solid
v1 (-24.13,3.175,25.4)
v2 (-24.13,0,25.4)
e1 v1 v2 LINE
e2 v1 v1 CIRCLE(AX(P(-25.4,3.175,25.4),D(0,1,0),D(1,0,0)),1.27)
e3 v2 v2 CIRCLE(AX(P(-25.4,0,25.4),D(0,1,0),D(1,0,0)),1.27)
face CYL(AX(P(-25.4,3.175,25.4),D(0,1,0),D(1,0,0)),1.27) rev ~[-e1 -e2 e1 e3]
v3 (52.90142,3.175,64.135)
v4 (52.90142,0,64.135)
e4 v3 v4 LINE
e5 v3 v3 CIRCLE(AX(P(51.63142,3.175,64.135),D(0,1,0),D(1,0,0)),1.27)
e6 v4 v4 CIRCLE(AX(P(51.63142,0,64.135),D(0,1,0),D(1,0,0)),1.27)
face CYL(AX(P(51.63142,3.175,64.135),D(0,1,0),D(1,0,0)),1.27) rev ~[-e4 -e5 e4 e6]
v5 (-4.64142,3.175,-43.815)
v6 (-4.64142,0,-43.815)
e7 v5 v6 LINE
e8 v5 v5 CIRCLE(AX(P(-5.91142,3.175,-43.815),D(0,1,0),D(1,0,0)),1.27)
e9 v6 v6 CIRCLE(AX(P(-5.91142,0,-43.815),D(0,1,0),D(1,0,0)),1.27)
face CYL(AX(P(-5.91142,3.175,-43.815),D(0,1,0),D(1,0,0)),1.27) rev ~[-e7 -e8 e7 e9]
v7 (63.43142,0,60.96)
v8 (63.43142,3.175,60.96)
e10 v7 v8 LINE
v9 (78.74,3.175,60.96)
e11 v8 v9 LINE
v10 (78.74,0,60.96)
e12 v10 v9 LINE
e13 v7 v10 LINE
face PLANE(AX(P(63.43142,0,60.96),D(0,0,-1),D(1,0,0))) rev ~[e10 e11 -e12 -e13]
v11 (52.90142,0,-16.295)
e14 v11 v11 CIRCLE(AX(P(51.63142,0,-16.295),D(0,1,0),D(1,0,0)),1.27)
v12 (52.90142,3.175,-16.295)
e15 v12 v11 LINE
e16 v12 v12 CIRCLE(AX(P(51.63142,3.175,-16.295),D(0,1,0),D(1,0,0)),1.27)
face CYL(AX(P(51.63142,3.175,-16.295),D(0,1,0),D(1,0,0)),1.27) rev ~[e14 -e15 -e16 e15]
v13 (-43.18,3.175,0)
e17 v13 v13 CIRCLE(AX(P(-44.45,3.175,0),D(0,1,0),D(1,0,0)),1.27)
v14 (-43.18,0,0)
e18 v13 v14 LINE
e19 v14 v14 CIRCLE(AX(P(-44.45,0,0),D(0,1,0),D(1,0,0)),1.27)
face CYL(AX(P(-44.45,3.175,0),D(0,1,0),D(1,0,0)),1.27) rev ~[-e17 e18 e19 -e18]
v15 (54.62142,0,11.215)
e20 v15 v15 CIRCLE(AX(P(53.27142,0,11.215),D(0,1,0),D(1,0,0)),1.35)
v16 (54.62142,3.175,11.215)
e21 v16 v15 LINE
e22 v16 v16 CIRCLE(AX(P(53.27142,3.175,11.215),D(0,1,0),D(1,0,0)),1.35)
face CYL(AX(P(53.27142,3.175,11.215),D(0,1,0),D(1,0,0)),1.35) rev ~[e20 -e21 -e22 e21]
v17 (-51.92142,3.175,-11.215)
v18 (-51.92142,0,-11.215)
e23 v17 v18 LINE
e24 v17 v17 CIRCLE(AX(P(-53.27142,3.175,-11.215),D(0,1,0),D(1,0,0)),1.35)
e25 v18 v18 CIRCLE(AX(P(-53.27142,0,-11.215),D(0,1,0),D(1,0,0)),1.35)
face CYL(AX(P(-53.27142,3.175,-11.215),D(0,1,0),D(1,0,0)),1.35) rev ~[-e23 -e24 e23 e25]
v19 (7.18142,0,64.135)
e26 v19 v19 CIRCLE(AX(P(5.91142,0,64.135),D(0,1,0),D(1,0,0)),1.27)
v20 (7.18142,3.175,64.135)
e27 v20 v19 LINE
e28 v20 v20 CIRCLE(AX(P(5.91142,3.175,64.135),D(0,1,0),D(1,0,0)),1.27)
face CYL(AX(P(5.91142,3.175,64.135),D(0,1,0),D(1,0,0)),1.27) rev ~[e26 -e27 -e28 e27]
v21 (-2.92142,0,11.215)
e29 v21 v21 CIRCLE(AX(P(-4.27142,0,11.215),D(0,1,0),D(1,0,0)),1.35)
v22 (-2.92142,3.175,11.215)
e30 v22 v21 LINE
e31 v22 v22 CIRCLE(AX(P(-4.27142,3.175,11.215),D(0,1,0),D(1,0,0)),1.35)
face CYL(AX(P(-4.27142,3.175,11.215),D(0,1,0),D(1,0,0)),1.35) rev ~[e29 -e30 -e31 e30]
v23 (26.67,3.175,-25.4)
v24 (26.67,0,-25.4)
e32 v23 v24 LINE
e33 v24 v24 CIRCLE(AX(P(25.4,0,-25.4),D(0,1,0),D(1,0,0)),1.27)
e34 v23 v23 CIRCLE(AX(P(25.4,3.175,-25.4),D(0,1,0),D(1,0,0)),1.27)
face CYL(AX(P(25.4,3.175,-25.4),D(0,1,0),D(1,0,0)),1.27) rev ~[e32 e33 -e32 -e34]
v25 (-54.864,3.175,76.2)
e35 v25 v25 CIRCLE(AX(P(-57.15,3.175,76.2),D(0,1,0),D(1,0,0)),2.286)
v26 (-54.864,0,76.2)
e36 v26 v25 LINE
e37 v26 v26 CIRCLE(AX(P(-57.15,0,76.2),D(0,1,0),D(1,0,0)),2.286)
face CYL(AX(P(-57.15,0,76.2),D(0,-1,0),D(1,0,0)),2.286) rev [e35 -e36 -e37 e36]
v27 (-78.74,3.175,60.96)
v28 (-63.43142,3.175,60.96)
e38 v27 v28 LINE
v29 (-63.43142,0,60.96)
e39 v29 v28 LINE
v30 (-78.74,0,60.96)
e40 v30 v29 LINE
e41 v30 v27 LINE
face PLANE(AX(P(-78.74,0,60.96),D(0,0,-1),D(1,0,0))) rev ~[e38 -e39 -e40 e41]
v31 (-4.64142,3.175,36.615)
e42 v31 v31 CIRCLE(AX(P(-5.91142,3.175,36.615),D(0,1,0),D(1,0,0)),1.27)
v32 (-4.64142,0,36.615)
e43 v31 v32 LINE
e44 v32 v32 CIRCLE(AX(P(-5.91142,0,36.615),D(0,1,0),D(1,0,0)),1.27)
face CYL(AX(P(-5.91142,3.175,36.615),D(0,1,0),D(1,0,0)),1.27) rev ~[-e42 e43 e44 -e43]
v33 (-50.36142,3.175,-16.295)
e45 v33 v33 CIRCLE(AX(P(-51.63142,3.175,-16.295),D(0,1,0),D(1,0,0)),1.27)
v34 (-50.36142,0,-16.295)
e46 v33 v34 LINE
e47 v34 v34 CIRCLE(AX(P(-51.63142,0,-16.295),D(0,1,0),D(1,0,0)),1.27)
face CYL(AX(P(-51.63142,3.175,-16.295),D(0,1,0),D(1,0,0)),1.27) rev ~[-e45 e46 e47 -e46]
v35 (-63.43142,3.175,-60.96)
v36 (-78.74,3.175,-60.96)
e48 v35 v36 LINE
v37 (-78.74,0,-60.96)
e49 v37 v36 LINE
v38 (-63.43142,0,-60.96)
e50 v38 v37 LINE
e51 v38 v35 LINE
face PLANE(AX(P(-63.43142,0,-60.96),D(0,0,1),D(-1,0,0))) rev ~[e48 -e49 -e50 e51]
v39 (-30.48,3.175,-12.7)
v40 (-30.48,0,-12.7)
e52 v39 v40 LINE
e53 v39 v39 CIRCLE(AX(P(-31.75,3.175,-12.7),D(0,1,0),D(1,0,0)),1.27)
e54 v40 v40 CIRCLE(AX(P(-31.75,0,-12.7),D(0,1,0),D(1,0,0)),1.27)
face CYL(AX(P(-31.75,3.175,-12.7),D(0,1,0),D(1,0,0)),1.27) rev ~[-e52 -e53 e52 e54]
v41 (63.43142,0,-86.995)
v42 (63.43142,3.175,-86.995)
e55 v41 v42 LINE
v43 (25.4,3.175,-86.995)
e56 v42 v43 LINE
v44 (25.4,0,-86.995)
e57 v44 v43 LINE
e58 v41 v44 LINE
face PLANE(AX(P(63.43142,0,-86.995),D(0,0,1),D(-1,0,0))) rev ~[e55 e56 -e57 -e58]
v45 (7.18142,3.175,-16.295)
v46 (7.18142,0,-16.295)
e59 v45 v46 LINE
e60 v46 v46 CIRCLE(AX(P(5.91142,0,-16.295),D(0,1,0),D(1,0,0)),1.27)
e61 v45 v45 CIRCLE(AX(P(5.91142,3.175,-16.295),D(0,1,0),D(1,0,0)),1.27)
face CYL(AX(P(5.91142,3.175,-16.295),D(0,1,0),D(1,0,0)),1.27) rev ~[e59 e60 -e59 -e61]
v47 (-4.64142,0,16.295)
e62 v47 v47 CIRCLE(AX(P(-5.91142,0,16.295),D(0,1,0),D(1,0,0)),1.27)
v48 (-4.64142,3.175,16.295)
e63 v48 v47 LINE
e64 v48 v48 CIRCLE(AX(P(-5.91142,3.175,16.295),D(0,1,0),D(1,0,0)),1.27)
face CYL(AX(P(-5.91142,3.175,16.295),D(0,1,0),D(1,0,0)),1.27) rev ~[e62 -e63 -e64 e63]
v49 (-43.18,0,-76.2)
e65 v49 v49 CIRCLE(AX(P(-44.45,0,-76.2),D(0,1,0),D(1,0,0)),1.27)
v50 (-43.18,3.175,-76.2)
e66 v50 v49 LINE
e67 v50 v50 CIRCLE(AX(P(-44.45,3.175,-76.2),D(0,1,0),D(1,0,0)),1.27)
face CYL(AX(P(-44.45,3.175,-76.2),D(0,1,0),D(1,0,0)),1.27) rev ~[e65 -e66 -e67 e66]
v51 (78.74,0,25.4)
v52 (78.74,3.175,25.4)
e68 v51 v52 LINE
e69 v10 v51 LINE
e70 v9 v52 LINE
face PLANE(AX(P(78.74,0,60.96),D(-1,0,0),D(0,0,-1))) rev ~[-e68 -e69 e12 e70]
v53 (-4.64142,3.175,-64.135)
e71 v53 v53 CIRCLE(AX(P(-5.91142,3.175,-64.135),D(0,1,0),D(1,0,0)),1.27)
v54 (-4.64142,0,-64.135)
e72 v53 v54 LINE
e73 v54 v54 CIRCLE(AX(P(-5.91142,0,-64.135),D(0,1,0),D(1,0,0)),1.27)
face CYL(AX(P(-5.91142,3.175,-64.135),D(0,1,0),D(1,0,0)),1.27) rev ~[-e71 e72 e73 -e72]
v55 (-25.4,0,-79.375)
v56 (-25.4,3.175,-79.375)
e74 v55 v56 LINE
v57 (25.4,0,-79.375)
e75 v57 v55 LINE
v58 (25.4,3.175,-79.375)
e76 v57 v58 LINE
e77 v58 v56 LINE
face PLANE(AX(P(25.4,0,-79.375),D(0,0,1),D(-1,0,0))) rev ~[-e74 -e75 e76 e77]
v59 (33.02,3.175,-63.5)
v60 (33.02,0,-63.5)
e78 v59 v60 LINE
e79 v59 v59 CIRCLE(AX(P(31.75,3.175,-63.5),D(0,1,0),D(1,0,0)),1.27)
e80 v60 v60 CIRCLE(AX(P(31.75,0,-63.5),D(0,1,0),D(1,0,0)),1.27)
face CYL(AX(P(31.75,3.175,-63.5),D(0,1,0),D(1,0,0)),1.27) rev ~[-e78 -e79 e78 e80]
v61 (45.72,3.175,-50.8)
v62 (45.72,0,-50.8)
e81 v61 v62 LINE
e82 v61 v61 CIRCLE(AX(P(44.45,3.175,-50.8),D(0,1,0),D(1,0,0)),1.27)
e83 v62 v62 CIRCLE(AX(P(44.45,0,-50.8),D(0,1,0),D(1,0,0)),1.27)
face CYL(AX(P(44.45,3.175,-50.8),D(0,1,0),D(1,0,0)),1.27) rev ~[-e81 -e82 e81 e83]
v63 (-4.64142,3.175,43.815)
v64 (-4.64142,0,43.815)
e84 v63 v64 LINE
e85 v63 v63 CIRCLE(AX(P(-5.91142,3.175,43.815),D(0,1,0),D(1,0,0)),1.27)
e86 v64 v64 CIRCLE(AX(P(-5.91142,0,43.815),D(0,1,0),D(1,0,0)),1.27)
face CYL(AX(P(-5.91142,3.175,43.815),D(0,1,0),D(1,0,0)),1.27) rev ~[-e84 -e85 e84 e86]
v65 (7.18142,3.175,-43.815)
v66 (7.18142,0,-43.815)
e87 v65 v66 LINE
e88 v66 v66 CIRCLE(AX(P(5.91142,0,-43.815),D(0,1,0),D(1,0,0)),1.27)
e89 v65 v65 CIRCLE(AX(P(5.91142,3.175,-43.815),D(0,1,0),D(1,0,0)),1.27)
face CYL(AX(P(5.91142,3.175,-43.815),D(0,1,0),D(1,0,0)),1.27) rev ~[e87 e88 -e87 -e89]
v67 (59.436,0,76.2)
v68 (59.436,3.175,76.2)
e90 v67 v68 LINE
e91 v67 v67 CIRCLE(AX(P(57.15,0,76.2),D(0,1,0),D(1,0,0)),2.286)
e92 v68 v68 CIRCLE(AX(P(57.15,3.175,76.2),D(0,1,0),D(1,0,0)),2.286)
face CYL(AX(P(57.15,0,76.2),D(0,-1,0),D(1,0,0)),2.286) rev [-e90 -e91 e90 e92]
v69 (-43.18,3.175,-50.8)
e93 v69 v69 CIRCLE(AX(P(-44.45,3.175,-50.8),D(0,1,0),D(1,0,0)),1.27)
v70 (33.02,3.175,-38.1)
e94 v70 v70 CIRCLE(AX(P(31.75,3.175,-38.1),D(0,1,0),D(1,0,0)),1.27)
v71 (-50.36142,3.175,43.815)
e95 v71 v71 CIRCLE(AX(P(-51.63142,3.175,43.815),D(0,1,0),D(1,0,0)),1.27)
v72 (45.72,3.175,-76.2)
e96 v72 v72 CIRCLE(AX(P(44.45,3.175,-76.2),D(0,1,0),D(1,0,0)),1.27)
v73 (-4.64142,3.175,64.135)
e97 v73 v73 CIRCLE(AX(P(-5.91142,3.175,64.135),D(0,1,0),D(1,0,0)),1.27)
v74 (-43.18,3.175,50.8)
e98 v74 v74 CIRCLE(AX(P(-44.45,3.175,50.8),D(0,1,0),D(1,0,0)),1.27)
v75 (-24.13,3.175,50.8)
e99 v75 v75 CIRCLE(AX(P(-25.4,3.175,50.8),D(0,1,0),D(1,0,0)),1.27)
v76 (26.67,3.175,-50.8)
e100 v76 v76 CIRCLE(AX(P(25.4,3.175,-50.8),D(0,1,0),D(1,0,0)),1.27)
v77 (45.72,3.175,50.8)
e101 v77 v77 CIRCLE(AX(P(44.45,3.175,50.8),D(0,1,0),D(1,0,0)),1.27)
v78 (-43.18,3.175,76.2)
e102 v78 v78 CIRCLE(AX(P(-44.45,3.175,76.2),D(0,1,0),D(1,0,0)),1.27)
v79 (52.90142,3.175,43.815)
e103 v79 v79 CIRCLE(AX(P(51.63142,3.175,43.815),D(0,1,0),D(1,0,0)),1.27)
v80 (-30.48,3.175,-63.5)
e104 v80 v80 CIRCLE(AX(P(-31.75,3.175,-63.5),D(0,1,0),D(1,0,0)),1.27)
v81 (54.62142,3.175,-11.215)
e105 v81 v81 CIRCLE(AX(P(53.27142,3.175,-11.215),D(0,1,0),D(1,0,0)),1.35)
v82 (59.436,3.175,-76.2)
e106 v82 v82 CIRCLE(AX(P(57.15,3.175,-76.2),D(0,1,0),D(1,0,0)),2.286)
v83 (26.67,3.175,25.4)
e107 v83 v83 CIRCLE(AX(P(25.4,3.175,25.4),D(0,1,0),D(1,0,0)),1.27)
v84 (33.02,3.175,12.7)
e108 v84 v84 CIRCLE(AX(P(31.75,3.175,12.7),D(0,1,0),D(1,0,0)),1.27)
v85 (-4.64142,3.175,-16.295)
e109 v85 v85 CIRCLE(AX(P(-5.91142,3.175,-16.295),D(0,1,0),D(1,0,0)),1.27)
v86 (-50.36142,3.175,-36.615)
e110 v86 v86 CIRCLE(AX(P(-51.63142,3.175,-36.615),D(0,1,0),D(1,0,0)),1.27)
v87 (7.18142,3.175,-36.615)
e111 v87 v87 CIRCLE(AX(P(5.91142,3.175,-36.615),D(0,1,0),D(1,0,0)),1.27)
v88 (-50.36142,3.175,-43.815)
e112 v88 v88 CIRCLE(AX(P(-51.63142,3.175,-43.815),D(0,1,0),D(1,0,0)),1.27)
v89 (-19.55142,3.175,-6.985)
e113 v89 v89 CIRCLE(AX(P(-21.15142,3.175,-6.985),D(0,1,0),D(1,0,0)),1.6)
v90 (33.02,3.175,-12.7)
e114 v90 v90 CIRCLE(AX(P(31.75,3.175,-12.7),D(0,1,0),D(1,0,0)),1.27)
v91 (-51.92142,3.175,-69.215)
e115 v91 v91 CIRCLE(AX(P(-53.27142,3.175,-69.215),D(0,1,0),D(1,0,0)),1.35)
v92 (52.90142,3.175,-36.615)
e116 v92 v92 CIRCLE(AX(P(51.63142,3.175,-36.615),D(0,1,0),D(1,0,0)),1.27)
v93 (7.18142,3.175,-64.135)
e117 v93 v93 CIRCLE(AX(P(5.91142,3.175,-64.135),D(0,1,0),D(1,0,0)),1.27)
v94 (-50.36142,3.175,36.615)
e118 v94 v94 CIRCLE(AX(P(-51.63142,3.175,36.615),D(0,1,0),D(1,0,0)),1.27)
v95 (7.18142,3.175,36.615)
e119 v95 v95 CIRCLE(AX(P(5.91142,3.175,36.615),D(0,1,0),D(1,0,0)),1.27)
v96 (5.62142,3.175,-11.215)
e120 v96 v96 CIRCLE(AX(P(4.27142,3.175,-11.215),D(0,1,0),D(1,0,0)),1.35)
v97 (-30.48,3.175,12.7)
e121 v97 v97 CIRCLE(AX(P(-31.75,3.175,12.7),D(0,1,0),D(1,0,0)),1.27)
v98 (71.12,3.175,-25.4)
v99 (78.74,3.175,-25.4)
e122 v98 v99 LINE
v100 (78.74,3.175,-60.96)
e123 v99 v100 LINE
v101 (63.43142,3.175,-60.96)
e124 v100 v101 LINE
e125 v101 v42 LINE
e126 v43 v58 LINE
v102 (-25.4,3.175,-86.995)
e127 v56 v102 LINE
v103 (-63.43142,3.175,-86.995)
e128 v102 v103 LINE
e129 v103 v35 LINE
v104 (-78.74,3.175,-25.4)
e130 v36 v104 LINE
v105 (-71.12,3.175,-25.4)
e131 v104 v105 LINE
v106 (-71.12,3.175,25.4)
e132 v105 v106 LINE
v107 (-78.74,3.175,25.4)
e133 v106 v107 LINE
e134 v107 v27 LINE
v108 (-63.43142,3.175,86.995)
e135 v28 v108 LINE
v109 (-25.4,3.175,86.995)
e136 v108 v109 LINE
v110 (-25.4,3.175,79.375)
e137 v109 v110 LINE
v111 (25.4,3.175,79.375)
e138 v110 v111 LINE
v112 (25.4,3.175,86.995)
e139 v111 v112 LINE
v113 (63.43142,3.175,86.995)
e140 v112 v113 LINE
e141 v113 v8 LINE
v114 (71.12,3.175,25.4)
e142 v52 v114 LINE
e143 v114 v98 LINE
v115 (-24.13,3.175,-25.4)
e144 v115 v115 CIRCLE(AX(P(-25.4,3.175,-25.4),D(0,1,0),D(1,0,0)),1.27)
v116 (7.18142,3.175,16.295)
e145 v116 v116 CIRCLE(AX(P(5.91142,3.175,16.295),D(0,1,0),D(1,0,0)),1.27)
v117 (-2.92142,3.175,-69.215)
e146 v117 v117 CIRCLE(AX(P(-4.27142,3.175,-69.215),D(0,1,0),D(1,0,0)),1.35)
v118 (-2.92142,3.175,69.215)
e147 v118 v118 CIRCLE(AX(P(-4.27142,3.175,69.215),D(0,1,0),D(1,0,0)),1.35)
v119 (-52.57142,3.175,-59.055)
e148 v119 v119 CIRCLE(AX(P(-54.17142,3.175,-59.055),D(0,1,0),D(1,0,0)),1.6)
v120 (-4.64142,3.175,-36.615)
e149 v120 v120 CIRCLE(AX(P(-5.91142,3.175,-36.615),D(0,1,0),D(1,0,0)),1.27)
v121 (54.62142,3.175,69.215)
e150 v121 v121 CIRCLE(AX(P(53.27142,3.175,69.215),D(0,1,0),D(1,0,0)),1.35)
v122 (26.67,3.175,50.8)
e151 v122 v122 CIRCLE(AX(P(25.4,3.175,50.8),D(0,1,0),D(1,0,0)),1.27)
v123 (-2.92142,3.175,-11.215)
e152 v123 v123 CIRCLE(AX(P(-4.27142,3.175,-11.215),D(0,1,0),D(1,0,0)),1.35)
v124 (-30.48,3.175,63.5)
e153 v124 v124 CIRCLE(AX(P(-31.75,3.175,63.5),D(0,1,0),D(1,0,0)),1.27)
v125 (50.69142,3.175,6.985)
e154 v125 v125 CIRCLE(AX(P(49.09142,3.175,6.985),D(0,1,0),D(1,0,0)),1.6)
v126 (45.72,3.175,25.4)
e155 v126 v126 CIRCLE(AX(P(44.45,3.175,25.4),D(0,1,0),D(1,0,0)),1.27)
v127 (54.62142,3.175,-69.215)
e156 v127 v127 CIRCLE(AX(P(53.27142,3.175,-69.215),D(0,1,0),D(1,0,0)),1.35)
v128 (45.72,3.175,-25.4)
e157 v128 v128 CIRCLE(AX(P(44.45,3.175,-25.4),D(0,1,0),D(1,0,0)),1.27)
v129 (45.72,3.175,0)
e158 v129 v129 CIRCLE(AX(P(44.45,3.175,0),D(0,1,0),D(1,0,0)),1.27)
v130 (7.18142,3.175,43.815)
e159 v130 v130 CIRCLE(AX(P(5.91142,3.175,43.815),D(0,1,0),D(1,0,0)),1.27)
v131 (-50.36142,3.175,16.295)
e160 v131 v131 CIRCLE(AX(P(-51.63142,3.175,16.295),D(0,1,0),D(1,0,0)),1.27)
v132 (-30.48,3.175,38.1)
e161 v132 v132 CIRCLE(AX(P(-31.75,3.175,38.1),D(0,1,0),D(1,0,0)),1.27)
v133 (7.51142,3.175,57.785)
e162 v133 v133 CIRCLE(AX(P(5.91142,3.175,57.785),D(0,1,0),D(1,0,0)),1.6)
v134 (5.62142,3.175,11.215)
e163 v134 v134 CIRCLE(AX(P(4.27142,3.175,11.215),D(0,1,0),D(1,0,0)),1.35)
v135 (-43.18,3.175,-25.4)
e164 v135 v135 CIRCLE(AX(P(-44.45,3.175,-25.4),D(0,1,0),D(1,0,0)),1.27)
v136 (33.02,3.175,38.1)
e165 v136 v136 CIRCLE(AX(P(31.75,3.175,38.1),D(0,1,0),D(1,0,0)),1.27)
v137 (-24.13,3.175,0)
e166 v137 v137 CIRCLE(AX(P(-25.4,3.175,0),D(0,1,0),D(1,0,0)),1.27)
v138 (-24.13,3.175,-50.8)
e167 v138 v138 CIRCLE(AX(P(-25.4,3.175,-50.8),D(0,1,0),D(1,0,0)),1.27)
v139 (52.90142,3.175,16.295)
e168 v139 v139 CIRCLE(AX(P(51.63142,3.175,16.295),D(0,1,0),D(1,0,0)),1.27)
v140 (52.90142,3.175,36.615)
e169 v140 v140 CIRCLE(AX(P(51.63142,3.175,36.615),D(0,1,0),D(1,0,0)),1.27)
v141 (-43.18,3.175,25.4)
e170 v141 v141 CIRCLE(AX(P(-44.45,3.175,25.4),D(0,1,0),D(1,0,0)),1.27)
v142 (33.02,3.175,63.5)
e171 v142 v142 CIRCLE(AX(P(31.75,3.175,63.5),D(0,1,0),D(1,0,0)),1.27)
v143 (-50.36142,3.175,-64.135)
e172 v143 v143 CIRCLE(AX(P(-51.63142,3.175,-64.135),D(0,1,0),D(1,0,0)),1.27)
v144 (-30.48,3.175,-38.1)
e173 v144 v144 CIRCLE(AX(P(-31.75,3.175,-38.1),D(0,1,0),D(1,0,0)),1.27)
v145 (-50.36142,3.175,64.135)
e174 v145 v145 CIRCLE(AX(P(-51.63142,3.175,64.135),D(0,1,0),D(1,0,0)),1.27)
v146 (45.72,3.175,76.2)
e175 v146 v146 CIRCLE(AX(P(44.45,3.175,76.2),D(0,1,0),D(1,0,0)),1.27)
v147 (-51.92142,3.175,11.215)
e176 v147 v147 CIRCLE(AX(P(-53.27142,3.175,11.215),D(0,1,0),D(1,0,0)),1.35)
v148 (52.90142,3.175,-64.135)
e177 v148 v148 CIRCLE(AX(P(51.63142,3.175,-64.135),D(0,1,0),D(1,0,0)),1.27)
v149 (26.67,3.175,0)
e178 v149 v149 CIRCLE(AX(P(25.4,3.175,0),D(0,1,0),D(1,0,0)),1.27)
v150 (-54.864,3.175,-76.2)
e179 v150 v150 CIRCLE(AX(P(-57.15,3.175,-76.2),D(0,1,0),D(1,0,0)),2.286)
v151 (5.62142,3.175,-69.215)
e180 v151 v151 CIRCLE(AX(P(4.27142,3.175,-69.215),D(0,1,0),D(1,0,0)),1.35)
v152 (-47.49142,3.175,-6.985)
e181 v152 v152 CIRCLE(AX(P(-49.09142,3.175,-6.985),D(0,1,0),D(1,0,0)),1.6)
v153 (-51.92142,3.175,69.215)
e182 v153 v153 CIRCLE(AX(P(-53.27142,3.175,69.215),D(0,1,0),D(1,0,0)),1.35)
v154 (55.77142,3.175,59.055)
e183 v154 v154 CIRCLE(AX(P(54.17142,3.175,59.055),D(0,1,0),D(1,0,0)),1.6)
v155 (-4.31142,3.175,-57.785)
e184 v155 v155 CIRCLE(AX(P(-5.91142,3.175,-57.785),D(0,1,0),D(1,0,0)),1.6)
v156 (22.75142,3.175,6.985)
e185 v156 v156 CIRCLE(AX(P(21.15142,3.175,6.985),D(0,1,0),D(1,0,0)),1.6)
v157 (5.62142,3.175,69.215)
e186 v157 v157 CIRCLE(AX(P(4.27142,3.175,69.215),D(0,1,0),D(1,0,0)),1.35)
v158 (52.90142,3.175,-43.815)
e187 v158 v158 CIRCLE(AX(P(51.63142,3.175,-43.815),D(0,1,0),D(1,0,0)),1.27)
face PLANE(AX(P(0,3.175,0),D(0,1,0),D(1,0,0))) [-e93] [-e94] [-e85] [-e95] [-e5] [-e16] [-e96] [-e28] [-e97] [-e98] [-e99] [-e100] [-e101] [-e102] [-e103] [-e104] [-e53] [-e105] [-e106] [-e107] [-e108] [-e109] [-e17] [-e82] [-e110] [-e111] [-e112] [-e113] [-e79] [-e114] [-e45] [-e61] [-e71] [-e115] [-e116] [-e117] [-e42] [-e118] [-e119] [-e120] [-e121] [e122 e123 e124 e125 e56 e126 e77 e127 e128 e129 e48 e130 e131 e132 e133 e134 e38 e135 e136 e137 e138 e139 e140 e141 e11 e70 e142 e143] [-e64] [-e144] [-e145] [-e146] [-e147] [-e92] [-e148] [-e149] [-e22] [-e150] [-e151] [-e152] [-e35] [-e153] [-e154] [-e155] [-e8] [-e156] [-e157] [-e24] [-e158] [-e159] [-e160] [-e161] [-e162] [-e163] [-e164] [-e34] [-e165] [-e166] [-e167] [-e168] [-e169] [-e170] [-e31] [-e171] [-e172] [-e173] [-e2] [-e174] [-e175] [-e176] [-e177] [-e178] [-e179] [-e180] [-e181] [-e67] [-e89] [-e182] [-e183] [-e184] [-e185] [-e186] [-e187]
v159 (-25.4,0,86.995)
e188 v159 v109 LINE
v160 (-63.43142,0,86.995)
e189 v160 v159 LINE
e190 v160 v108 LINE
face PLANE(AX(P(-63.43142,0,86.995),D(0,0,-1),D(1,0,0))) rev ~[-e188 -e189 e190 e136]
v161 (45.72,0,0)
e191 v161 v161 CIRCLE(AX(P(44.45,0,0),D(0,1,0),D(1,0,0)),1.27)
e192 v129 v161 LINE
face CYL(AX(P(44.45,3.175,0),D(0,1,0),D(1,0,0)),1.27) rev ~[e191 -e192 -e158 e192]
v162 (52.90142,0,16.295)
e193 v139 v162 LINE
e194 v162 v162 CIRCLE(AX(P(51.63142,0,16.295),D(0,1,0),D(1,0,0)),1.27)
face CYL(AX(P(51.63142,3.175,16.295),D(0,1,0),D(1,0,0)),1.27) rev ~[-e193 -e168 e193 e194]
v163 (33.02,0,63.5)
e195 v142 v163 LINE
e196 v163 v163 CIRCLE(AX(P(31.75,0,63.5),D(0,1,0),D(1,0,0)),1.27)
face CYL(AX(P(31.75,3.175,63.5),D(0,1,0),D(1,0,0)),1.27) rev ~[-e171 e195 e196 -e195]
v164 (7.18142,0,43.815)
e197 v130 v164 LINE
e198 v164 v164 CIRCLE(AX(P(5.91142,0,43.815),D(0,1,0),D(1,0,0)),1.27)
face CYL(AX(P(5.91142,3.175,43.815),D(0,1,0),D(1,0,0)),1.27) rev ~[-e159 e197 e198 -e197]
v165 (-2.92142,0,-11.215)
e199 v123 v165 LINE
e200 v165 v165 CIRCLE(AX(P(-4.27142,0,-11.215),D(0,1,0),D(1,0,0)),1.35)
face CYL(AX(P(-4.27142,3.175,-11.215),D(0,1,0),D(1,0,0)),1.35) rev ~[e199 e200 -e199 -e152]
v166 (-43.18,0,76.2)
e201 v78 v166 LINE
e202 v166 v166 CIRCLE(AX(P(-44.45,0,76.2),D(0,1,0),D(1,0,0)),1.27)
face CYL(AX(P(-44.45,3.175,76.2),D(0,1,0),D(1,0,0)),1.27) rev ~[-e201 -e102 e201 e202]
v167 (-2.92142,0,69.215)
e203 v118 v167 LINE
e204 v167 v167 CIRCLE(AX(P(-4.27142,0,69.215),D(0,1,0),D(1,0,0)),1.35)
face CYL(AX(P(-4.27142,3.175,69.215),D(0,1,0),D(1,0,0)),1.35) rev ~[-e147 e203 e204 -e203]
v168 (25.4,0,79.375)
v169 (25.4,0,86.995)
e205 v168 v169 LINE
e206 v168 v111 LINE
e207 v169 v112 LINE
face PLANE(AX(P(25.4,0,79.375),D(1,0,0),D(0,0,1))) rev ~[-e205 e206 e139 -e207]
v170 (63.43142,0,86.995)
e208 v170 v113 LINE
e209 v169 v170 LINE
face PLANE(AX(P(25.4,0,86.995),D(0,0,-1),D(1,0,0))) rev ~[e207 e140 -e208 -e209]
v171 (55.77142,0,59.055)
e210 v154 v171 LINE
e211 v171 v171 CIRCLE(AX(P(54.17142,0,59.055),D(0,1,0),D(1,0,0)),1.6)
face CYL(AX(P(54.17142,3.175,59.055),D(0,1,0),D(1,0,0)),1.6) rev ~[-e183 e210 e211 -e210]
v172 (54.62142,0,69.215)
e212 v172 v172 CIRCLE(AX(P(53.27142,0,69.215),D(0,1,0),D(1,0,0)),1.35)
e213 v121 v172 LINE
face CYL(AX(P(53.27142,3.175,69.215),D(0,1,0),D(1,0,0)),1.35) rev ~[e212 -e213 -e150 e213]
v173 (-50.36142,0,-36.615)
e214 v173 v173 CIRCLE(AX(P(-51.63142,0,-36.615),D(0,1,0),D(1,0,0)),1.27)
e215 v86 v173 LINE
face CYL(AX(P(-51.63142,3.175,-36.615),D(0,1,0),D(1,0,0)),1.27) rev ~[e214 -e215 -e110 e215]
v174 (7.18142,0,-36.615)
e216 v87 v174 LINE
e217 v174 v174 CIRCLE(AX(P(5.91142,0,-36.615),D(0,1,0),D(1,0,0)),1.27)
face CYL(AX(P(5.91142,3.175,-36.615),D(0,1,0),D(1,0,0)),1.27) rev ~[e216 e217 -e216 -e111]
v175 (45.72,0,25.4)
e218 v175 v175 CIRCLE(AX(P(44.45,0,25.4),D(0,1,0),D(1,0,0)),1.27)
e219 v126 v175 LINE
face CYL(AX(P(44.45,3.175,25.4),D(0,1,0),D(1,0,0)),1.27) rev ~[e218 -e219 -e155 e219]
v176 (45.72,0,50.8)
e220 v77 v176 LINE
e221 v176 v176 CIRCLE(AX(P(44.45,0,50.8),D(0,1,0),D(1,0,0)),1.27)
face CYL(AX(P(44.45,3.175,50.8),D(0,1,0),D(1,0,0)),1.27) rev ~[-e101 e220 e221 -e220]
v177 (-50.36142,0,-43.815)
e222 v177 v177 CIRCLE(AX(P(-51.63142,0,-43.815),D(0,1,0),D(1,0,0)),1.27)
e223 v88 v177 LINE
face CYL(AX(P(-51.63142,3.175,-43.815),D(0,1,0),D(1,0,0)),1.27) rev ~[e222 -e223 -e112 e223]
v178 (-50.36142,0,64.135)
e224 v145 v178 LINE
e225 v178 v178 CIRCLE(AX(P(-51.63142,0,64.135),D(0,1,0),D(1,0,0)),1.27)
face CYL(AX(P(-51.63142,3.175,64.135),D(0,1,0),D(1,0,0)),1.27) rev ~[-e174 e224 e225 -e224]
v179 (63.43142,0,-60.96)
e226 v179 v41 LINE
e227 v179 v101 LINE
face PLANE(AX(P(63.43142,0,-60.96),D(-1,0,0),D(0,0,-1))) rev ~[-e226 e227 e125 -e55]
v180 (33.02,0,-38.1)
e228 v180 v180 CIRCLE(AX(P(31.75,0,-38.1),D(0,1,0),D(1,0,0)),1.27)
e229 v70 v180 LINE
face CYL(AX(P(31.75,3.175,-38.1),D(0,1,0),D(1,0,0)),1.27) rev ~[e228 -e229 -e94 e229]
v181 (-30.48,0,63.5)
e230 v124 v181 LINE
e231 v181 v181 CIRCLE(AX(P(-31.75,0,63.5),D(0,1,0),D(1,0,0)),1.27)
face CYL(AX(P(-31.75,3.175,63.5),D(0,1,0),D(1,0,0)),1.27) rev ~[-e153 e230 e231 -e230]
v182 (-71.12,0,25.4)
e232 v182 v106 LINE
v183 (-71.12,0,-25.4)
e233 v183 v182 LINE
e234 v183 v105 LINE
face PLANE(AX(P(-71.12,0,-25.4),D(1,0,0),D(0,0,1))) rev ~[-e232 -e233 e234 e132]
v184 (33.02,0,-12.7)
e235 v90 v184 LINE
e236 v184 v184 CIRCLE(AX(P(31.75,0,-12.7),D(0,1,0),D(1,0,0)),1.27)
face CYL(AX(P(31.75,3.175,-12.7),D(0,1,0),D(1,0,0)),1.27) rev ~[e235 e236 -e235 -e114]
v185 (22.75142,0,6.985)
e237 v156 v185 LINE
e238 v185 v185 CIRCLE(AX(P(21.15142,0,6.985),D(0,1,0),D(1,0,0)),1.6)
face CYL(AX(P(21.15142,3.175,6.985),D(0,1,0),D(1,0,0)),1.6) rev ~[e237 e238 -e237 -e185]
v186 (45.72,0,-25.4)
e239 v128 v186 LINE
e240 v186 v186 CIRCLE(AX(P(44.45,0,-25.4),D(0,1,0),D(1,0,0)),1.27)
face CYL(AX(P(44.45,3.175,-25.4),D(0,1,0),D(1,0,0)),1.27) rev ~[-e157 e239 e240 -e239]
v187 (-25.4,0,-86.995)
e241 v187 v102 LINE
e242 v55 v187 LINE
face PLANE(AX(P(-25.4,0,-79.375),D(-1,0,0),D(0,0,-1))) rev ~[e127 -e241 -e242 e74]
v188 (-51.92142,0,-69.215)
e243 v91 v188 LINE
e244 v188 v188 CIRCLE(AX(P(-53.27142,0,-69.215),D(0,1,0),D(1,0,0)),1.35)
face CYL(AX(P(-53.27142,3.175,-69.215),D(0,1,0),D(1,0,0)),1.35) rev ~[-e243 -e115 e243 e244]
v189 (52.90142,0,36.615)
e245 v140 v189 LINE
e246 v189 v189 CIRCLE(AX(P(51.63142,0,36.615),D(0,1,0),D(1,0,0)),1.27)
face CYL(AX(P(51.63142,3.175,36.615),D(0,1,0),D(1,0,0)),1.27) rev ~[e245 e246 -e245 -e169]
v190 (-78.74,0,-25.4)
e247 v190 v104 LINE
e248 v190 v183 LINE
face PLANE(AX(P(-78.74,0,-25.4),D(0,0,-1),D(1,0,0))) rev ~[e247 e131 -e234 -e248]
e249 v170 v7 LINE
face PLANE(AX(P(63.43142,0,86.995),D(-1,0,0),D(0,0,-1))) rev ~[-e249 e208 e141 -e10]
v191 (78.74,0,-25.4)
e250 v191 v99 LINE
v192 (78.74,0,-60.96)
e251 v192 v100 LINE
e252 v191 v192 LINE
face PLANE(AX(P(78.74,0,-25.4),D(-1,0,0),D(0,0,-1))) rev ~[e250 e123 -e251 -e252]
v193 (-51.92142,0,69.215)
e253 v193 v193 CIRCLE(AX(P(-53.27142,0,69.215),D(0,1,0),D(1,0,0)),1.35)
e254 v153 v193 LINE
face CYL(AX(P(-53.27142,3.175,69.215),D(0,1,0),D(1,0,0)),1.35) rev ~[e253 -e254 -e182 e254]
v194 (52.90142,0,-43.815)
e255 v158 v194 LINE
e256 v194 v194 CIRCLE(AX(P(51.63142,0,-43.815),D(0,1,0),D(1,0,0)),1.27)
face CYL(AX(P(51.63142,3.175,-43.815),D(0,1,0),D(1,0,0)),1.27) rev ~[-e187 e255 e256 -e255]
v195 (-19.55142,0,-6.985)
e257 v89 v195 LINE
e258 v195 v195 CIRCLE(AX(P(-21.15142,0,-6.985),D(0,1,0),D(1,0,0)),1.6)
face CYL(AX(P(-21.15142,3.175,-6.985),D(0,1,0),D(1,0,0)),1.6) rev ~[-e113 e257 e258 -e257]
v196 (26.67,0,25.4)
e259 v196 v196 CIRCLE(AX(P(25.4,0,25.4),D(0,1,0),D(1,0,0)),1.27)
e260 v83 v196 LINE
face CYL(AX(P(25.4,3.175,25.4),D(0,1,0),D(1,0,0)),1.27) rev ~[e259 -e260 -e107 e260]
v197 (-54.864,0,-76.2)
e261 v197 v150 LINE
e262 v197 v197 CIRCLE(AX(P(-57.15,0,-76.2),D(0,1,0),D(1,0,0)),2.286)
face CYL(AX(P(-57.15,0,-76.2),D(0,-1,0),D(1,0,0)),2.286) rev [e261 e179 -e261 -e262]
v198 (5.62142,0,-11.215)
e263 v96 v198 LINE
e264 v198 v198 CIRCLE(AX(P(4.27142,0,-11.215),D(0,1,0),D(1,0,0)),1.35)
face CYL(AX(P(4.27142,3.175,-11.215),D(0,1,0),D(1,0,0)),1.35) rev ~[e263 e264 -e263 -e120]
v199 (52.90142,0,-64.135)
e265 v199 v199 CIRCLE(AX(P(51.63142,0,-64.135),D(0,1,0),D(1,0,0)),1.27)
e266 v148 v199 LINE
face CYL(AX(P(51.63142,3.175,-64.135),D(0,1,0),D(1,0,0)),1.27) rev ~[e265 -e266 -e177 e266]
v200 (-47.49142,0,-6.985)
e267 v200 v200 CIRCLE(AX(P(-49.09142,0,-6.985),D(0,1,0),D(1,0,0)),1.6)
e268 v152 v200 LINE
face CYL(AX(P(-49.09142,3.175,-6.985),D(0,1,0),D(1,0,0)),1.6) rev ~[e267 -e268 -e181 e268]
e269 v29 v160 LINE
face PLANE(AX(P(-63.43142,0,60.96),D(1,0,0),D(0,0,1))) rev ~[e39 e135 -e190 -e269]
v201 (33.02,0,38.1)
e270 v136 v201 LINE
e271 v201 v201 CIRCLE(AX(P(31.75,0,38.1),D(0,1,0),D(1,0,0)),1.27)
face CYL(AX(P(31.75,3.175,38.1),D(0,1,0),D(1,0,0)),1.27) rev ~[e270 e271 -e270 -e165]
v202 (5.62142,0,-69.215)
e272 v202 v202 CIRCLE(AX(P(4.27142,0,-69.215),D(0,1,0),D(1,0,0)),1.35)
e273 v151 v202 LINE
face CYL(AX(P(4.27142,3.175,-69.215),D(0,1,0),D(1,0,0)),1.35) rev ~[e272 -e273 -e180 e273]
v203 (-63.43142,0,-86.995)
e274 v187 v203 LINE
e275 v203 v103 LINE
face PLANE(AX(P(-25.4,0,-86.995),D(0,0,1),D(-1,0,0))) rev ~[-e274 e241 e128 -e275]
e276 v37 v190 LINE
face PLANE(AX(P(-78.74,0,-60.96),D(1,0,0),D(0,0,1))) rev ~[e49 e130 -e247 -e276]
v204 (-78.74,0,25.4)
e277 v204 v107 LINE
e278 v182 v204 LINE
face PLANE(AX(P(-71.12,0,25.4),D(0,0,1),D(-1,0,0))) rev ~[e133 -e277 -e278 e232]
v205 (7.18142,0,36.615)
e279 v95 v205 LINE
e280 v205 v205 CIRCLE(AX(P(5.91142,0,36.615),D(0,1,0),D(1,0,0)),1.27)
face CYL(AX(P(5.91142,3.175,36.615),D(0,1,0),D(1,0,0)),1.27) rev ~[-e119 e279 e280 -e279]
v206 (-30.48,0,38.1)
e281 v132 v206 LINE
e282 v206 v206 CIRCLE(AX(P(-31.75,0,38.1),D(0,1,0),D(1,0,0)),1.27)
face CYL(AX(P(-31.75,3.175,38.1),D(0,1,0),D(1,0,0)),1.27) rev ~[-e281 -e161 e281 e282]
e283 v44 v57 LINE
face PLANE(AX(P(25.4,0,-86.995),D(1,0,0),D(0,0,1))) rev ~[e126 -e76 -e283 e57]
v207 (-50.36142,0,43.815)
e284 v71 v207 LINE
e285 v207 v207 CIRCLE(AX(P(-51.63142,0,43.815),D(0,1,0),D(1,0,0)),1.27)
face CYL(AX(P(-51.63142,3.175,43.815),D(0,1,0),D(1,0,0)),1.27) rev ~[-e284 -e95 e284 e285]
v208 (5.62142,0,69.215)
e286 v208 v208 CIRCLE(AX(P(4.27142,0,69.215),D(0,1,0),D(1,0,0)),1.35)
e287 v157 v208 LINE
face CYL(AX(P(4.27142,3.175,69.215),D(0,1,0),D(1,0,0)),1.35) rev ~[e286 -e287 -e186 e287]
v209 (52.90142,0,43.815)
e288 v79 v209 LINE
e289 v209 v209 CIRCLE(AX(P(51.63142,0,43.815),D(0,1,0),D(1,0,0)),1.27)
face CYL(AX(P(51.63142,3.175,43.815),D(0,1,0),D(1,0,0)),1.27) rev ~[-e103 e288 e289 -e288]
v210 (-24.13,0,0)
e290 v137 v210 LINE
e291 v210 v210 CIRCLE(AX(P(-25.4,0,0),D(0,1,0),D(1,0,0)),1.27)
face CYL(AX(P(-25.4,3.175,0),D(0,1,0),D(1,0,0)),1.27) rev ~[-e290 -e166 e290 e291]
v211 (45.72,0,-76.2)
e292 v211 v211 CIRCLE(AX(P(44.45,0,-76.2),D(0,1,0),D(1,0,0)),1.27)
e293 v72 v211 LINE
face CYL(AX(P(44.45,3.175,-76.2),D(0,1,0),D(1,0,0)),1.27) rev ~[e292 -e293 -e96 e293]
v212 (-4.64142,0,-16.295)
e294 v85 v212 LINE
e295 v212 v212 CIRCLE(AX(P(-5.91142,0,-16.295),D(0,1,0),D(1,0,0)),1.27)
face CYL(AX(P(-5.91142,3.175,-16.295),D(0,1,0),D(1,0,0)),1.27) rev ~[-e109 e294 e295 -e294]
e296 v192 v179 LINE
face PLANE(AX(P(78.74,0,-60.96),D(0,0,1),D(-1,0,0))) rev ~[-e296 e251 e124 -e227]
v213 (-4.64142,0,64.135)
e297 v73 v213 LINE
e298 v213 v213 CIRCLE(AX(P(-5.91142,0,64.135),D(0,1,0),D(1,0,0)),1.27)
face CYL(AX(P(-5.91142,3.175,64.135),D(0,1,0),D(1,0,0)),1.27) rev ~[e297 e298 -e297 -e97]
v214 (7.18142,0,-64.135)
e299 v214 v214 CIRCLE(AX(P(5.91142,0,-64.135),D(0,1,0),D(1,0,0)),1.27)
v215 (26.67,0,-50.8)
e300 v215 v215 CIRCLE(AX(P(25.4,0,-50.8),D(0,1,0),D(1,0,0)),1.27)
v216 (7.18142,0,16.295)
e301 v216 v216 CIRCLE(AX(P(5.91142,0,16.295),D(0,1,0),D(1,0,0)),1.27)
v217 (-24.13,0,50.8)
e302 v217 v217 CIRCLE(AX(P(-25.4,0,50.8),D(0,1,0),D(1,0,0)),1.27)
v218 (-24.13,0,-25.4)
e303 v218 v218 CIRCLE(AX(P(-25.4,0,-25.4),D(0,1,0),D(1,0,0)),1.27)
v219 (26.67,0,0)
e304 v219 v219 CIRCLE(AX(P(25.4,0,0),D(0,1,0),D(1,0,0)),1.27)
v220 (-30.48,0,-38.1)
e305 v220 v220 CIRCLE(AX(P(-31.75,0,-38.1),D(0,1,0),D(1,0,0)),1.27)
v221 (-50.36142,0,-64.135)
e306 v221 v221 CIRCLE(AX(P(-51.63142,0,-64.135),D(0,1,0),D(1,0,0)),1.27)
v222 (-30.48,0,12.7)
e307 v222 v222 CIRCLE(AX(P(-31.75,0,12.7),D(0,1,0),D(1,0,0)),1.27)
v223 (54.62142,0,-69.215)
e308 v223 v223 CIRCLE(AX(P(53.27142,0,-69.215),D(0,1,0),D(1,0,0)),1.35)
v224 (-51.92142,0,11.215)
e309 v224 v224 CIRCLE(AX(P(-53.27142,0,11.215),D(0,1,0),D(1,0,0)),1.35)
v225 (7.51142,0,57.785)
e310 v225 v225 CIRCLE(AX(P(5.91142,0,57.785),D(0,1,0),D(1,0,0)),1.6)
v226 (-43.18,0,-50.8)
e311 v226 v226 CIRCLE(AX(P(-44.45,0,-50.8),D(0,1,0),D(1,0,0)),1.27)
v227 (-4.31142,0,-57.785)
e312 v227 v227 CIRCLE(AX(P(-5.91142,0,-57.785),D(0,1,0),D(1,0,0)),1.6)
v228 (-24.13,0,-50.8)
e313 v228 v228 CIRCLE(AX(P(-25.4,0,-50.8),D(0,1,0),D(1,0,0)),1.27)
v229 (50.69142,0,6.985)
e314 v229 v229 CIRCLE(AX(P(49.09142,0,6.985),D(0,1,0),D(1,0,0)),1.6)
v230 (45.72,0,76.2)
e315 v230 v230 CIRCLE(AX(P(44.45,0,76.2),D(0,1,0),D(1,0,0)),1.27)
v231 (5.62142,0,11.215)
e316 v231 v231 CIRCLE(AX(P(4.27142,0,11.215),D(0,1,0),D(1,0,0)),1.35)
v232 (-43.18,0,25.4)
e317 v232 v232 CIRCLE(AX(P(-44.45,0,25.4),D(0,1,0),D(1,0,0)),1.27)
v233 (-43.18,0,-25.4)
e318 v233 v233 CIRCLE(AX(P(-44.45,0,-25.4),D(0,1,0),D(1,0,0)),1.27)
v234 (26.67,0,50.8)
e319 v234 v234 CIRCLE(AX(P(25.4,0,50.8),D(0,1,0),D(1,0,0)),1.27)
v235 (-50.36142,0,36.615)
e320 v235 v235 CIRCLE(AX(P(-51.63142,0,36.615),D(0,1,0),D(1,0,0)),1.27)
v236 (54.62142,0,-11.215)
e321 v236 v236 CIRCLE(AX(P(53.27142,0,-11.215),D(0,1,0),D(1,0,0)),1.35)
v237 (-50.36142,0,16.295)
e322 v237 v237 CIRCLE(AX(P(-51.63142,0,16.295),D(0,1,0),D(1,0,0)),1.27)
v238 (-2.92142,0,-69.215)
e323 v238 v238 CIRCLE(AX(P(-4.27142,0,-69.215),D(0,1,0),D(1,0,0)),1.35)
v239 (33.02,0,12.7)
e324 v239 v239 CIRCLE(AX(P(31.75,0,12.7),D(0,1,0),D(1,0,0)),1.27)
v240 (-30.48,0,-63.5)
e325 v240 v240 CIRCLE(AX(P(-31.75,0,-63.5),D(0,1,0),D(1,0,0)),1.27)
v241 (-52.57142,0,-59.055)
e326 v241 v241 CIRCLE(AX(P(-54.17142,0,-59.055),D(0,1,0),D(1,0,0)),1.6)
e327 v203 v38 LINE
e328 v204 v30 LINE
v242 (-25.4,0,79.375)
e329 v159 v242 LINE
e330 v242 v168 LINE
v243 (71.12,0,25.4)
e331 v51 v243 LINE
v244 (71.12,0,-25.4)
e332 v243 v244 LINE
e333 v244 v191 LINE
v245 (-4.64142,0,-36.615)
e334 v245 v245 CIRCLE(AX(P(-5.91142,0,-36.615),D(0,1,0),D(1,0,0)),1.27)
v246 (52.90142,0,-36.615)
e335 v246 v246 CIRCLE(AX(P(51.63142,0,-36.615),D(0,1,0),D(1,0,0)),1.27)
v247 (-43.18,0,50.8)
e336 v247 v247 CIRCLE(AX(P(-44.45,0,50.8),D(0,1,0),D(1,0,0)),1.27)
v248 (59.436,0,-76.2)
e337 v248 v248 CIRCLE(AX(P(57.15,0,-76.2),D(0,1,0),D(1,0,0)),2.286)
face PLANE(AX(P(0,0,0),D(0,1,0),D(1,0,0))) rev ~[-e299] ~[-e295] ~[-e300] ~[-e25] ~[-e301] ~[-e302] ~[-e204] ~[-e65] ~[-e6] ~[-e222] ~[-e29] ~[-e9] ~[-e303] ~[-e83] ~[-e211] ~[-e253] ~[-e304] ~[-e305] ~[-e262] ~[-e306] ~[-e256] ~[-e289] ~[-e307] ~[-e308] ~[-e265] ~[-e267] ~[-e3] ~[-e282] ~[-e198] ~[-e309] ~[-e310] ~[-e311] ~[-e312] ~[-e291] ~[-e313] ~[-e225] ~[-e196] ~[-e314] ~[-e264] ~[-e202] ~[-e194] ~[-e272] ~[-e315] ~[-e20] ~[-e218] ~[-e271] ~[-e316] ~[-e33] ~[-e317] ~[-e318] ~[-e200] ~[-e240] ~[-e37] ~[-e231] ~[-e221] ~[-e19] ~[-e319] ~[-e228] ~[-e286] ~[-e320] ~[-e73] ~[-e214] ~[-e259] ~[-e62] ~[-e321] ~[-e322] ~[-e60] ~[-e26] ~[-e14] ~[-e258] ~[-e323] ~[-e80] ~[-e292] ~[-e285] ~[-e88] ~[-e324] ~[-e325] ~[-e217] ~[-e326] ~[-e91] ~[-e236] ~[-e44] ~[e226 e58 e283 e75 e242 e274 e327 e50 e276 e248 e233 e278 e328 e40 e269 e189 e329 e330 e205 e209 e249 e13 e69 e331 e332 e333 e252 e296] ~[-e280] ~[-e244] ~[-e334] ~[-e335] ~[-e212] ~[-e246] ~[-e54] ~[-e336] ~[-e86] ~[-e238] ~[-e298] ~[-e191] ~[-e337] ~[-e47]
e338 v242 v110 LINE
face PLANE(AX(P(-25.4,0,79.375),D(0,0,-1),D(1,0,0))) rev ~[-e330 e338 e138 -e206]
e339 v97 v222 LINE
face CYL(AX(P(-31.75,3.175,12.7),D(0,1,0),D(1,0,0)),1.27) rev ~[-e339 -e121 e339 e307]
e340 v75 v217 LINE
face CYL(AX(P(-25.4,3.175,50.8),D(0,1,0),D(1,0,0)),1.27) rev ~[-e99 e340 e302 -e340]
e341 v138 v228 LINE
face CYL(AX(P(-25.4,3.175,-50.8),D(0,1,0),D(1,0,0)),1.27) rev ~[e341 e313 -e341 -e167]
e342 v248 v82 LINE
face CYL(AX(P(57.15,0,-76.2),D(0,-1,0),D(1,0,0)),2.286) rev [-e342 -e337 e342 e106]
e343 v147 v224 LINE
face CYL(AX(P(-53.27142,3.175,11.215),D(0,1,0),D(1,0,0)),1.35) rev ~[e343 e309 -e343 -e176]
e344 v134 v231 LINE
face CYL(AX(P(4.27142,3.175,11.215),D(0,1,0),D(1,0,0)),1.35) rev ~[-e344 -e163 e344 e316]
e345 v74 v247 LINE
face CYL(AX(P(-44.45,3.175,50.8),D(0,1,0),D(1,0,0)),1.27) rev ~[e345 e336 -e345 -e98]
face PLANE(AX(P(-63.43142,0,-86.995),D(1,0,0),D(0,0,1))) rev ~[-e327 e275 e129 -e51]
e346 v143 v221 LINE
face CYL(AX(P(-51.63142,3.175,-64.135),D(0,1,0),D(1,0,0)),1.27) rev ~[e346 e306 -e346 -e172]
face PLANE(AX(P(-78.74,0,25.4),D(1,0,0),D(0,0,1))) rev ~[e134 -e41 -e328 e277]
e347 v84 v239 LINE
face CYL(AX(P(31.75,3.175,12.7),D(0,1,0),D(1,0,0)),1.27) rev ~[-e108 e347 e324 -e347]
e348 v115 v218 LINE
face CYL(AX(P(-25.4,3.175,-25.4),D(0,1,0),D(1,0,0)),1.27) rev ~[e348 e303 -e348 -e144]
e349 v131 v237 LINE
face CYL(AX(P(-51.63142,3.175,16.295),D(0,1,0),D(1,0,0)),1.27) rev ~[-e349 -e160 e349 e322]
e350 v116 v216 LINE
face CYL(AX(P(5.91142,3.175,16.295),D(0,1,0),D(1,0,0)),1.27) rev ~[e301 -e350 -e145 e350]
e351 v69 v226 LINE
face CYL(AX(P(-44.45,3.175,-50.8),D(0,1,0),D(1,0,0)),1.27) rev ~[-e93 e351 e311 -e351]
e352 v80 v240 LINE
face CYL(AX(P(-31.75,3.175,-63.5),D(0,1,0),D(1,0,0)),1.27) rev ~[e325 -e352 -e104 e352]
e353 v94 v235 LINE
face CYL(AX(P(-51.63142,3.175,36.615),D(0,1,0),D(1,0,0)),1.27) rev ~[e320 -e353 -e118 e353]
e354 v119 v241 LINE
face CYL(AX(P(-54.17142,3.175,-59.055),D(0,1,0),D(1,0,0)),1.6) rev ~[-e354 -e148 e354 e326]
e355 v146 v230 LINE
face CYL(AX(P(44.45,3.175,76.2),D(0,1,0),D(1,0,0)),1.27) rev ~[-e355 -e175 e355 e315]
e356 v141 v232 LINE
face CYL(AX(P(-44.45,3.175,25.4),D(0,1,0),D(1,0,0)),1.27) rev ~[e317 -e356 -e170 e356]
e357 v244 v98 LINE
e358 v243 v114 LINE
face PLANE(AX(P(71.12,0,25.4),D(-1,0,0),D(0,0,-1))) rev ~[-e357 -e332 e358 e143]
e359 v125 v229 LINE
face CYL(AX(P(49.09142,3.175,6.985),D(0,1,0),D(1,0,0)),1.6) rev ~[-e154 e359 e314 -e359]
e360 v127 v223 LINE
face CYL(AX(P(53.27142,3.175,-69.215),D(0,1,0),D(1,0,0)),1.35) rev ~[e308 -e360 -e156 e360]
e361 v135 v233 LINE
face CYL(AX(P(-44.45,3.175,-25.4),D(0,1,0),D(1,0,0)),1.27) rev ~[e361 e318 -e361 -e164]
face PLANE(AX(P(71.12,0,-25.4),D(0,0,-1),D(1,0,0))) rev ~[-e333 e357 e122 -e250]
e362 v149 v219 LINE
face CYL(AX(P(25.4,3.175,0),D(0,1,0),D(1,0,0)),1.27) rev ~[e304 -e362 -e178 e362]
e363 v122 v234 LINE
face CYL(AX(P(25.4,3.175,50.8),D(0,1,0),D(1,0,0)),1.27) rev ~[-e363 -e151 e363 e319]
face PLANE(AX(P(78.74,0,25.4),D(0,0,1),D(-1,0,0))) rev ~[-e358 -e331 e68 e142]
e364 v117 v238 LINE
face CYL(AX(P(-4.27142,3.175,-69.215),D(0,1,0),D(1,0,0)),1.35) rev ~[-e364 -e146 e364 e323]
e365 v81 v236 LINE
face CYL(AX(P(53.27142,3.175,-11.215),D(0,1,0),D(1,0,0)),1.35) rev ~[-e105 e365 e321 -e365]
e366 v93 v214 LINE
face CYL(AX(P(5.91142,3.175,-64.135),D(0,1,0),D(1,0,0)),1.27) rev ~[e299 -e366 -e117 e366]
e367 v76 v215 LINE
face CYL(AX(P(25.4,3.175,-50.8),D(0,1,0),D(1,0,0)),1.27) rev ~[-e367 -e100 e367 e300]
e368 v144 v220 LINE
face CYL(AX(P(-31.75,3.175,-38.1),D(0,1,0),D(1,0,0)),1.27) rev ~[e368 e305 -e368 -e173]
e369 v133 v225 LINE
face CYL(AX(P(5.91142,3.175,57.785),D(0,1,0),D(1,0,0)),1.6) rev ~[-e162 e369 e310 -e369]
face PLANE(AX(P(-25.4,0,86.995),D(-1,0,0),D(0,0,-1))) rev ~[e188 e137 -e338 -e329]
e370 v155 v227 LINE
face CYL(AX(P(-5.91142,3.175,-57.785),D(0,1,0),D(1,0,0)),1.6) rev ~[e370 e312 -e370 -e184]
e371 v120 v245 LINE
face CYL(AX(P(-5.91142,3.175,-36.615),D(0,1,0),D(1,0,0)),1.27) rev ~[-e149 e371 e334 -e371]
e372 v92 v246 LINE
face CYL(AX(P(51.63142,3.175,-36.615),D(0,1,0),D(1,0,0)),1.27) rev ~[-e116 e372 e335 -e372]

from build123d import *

# Parameters (mm, degrees)
SKETCH1_R                 = 2.286
BOSS_EXTRUDE1_DEPTH       = 3.175
SKETCH2_R                 = 1.35
RASPBERRY_PI_HOLES_DEPTH  = 4.175
SKETCH3_R                 = 1.27
FEATHER_BOARD_HOLES_DEPTH = 4.175
SKETCH4_R                 = 1.6
ARDUINO_UNO_1_DEPTH       = 4.175
SKETCH5_R                 = 1.6
ARDUINO_UNO_2_DEPTH       = 4.175
SKETCH6_R                 = 1.27
CUSTOM_PCB_3_INCH_DEPTH   = 4.175
SKETCH7_R                 = 1.27
CUSTOM_PCB_2_5_INCH_DEPTH = 4.175
SKETCH8_R                 = 1.27
CUSTOM_PCB_2_INCH_DEPTH   = 4.175


with BuildPart() as part:
    # Sketch1 → Boss-Extrude1 (new body)
    with BuildSketch(Plane(origin=(0, 0, 0), x_dir=(1, 0, 0), z_dir=(0, 1, 0))):
        Polygon((-25.4, 86.995), (-63.43142, 86.995), (-63.43142, 60.96), (-78.74, 60.96), (-78.74, 25.4), (-71.12, 25.4), (-71.12, -25.4), (-78.74, -25.4), (-78.74, -60.96), (-63.43142, -60.96), (-63.43142, -86.995), (-25.4, -86.995), (-25.4, -79.375), (25.4, -79.375), (25.4, -86.995), (63.43142, -86.995), (63.43142, -60.96), (78.74, -60.96), (78.74, -25.4), (71.12, -25.4), (71.12, 25.4), (78.74, 25.4), (78.74, 60.96), (63.43142, 60.96), (63.43142, 86.995), (25.4, 86.995), (25.4, 79.375), (-25.4, 79.375), align=None)
        with Locations((-57.15, 76.2)):
            Circle(SKETCH1_R, mode=Mode.SUBTRACT)
        with Locations((57.15, 76.2)):
            Circle(SKETCH1_R, mode=Mode.SUBTRACT)
        with Locations((57.15, -76.2)):
            Circle(SKETCH1_R, mode=Mode.SUBTRACT)
        with Locations((-57.15, -76.2)):
            Circle(SKETCH1_R, mode=Mode.SUBTRACT)
    extrude(amount=BOSS_EXTRUDE1_DEPTH)

    # Sketch2 → Raspberry Pi Holes (cut, through all)
    with BuildSketch(Plane(origin=(0, 3.175, 0), x_dir=(1, 0, 0), z_dir=(0, 1, 0))):
        with Locations((-53.27142, -69.215)):
            Circle(SKETCH2_R)
        with Locations((-4.27142, -69.215)):
            Circle(SKETCH2_R)
        with Locations((-4.27142, -11.215)):
            Circle(SKETCH2_R)
        with Locations((-53.27142, -11.215)):
            Circle(SKETCH2_R)
        with Locations((53.27142, -11.215)):
            Circle(SKETCH2_R)
        with Locations((4.27142, -11.215)):
            Circle(SKETCH2_R)
        with Locations((4.27142, -69.215)):
            Circle(SKETCH2_R)
        with Locations((53.27142, -69.215)):
            Circle(SKETCH2_R)
        with Locations((53.27142, 11.215)):
            Circle(SKETCH2_R)
        with Locations((53.27142, 69.215)):
            Circle(SKETCH2_R)
        with Locations((4.27142, 69.215)):
            Circle(SKETCH2_R)
        with Locations((4.27142, 11.215)):
            Circle(SKETCH2_R)
        with Locations((-4.27142, 11.215)):
            Circle(SKETCH2_R)
        with Locations((-4.27142, 69.215)):
            Circle(SKETCH2_R)
        with Locations((-53.27142, 11.215)):
            Circle(SKETCH2_R)
        with Locations((-53.27142, 69.215)):
            Circle(SKETCH2_R)
    extrude(amount=-RASPBERRY_PI_HOLES_DEPTH, mode=Mode.SUBTRACT)

    # Sketch3 → Feather Board Holes (cut, through all)
    with BuildSketch(Plane(origin=(0, 3.175, 0), x_dir=(1, 0, 0), z_dir=(0, 1, 0))):
        with Locations((-51.63142, -64.135)):
            Circle(SKETCH3_R)
        with Locations((-5.91142, -64.135)):
            Circle(SKETCH3_R)
        with Locations((-5.91142, -43.815)):
            Circle(SKETCH3_R)
        with Locations((-51.63142, -43.815)):
            Circle(SKETCH3_R)
        with Locations((-51.63142, -16.295)):
            Circle(SKETCH3_R)
        with Locations((-51.63142, -36.615)):
            Circle(SKETCH3_R)
        with Locations((-5.91142, -36.615)):
            Circle(SKETCH3_R)
        with Locations((-5.91142, -16.295)):
            Circle(SKETCH3_R)
        with Locations((5.91142, -16.295)):
            Circle(SKETCH3_R)
        with Locations((5.91142, -36.615)):
            Circle(SKETCH3_R)
        with Locations((51.63142, -36.615)):
            Circle(SKETCH3_R)
        with Locations((51.63142, -16.295)):
            Circle(SKETCH3_R)
        with Locations((51.63142, -43.815)):
            Circle(SKETCH3_R)
        with Locations((5.91142, -43.815)):
            Circle(SKETCH3_R)
        with Locations((5.91142, -64.135)):
            Circle(SKETCH3_R)
        with Locations((51.63142, -64.135)):
            Circle(SKETCH3_R)
        with Locations((51.63142, 64.135)):
            Circle(SKETCH3_R)
        with Locations((5.91142, 64.135)):
            Circle(SKETCH3_R)
        with Locations((5.91142, 43.815)):
            Circle(SKETCH3_R)
        with Locations((51.63142, 43.815)):
            Circle(SKETCH3_R)
        with Locations((51.63142, 16.295)):
            Circle(SKETCH3_R)
        with Locations((51.63142, 36.615)):
            Circle(SKETCH3_R)
        with Locations((5.91142, 36.615)):
            Circle(SKETCH3_R)
        with Locations((5.91142, 16.295)):
            Circle(SKETCH3_R)
        with Locations((-5.91142, 16.295)):
            Circle(SKETCH3_R)
        with Locations((-5.91142, 36.615)):
            Circle(SKETCH3_R)
        with Locations((-51.63142, 36.615)):
            Circle(SKETCH3_R)
        with Locations((-51.63142, 16.295)):
            Circle(SKETCH3_R)
        with Locations((-51.63142, 43.815)):
            Circle(SKETCH3_R)
        with Locations((-5.91142, 43.815)):
            Circle(SKETCH3_R)
        with Locations((-5.91142, 64.135)):
            Circle(SKETCH3_R)
        with Locations((-51.63142, 64.135)):
            Circle(SKETCH3_R)
    extrude(amount=-FEATHER_BOARD_HOLES_DEPTH, mode=Mode.SUBTRACT)

    # Sketch4 → Arduino Uno 1 (cut, through all)
    with BuildSketch(Plane(origin=(0, 3.175, 0), x_dir=(1, 0, 0), z_dir=(0, 1, 0))):
        with Locations((5.91142, -57.785)):
            Circle(SKETCH4_R)
        with Locations((21.15142, -6.985)):
            Circle(SKETCH4_R)
        with Locations((49.09142, -6.985)):
            Circle(SKETCH4_R)
        with Locations((54.17142, -59.055)):
            Circle(SKETCH4_R)
    extrude(amount=-ARDUINO_UNO_1_DEPTH, mode=Mode.SUBTRACT)

    # Sketch5 → Arduino Uno 2 (cut, through all)
    with BuildSketch(Plane(origin=(0, 3.175, 0), x_dir=(1, 0, 0), z_dir=(0, 1, 0))):
        with Locations((-5.91142, 57.785)):
            Circle(SKETCH5_R)
        with Locations((-54.17142, 59.055)):
            Circle(SKETCH5_R)
        with Locations((-49.09142, 6.985)):
            Circle(SKETCH5_R)
        with Locations((-21.15142, 6.985)):
            Circle(SKETCH5_R)
    extrude(amount=-ARDUINO_UNO_2_DEPTH, mode=Mode.SUBTRACT)

    # Sketch6 → Custom PCB 3 inch (cut, through all)
    with BuildSketch(Plane(origin=(0, 3.175, 0), x_dir=(1, 0, 0), z_dir=(0, 1, 0))):
        with Locations((44.45, 76.2)):
            Circle(SKETCH6_R)
        with Locations((-44.45, 76.2)):
            Circle(SKETCH6_R)
        with Locations((44.45, 50.8)):
            Circle(SKETCH6_R)
        with Locations((-44.45, 50.8)):
            Circle(SKETCH6_R)
        with Locations((44.45, 25.4)):
            Circle(SKETCH6_R)
        with Locations((-44.45, 25.4)):
            Circle(SKETCH6_R)
        with Locations((44.45, 0)):
            Circle(SKETCH6_R)
        with Locations((-44.45, 0)):
            Circle(SKETCH6_R)
        with Locations((44.45, -25.4)):
            Circle(SKETCH6_R)
        with Locations((-44.45, -25.4)):
            Circle(SKETCH6_R)
        with Locations((44.45, -50.8)):
            Circle(SKETCH6_R)
        with Locations((-44.45, -50.8)):
            Circle(SKETCH6_R)
        with Locations((44.45, -76.2)):
            Circle(SKETCH6_R)
        with Locations((-44.45, -76.2)):
            Circle(SKETCH6_R)
    extrude(amount=-CUSTOM_PCB_3_INCH_DEPTH, mode=Mode.SUBTRACT)

    # Sketch7 → Custom PCB 2.5 inch (cut, through all)
    with BuildSketch(Plane(origin=(0, 3.175, 0), x_dir=(1, 0, 0), z_dir=(0, 1, 0))):
        with Locations((-31.75, -63.5)):
            Circle(SKETCH7_R)
        with Locations((31.75, -63.5)):
            Circle(SKETCH7_R)
        with Locations((31.75, -38.1)):
            Circle(SKETCH7_R)
        with Locations((-31.75, -38.1)):
            Circle(SKETCH7_R)
        with Locations((31.75, -12.7)):
            Circle(SKETCH7_R)
        with Locations((-31.75, -12.7)):
            Circle(SKETCH7_R)
        with Locations((31.75, 12.7)):
            Circle(SKETCH7_R)
        with Locations((-31.75, 12.7)):
            Circle(SKETCH7_R)
        with Locations((31.75, 38.1)):
            Circle(SKETCH7_R)
        with Locations((-31.75, 38.1)):
            Circle(SKETCH7_R)
        with Locations((31.75, 63.5)):
            Circle(SKETCH7_R)
        with Locations((-31.75, 63.5)):
            Circle(SKETCH7_R)
    extrude(amount=-CUSTOM_PCB_2_5_INCH_DEPTH, mode=Mode.SUBTRACT)

    # Sketch8 → Custom PCB 2 inch (cut, through all)
    with BuildSketch(Plane(origin=(0, 3.175, 0), x_dir=(1, 0, 0), z_dir=(0, 1, 0))):
        with Locations((-25.4, -50.8)):
            Circle(SKETCH8_R)
        with Locations((25.4, -50.8)):
            Circle(SKETCH8_R)
        with Locations((-25.4, -25.4)):
            Circle(SKETCH8_R)
        with Locations((25.4, -25.4)):
            Circle(SKETCH8_R)
        with Locations((-25.4, 0)):
            Circle(SKETCH8_R)
        with Locations((25.4, 0)):
            Circle(SKETCH8_R)
        with Locations((-25.4, 25.4)):
            Circle(SKETCH8_R)
        with Locations((25.4, 25.4)):
            Circle(SKETCH8_R)
        with Locations((-25.4, 50.8)):
            Circle(SKETCH8_R)
        with Locations((25.4, 50.8)):
            Circle(SKETCH8_R)
    extrude(amount=-CUSTOM_PCB_2_INCH_DEPTH, mode=Mode.SUBTRACT)


solid = part.part
